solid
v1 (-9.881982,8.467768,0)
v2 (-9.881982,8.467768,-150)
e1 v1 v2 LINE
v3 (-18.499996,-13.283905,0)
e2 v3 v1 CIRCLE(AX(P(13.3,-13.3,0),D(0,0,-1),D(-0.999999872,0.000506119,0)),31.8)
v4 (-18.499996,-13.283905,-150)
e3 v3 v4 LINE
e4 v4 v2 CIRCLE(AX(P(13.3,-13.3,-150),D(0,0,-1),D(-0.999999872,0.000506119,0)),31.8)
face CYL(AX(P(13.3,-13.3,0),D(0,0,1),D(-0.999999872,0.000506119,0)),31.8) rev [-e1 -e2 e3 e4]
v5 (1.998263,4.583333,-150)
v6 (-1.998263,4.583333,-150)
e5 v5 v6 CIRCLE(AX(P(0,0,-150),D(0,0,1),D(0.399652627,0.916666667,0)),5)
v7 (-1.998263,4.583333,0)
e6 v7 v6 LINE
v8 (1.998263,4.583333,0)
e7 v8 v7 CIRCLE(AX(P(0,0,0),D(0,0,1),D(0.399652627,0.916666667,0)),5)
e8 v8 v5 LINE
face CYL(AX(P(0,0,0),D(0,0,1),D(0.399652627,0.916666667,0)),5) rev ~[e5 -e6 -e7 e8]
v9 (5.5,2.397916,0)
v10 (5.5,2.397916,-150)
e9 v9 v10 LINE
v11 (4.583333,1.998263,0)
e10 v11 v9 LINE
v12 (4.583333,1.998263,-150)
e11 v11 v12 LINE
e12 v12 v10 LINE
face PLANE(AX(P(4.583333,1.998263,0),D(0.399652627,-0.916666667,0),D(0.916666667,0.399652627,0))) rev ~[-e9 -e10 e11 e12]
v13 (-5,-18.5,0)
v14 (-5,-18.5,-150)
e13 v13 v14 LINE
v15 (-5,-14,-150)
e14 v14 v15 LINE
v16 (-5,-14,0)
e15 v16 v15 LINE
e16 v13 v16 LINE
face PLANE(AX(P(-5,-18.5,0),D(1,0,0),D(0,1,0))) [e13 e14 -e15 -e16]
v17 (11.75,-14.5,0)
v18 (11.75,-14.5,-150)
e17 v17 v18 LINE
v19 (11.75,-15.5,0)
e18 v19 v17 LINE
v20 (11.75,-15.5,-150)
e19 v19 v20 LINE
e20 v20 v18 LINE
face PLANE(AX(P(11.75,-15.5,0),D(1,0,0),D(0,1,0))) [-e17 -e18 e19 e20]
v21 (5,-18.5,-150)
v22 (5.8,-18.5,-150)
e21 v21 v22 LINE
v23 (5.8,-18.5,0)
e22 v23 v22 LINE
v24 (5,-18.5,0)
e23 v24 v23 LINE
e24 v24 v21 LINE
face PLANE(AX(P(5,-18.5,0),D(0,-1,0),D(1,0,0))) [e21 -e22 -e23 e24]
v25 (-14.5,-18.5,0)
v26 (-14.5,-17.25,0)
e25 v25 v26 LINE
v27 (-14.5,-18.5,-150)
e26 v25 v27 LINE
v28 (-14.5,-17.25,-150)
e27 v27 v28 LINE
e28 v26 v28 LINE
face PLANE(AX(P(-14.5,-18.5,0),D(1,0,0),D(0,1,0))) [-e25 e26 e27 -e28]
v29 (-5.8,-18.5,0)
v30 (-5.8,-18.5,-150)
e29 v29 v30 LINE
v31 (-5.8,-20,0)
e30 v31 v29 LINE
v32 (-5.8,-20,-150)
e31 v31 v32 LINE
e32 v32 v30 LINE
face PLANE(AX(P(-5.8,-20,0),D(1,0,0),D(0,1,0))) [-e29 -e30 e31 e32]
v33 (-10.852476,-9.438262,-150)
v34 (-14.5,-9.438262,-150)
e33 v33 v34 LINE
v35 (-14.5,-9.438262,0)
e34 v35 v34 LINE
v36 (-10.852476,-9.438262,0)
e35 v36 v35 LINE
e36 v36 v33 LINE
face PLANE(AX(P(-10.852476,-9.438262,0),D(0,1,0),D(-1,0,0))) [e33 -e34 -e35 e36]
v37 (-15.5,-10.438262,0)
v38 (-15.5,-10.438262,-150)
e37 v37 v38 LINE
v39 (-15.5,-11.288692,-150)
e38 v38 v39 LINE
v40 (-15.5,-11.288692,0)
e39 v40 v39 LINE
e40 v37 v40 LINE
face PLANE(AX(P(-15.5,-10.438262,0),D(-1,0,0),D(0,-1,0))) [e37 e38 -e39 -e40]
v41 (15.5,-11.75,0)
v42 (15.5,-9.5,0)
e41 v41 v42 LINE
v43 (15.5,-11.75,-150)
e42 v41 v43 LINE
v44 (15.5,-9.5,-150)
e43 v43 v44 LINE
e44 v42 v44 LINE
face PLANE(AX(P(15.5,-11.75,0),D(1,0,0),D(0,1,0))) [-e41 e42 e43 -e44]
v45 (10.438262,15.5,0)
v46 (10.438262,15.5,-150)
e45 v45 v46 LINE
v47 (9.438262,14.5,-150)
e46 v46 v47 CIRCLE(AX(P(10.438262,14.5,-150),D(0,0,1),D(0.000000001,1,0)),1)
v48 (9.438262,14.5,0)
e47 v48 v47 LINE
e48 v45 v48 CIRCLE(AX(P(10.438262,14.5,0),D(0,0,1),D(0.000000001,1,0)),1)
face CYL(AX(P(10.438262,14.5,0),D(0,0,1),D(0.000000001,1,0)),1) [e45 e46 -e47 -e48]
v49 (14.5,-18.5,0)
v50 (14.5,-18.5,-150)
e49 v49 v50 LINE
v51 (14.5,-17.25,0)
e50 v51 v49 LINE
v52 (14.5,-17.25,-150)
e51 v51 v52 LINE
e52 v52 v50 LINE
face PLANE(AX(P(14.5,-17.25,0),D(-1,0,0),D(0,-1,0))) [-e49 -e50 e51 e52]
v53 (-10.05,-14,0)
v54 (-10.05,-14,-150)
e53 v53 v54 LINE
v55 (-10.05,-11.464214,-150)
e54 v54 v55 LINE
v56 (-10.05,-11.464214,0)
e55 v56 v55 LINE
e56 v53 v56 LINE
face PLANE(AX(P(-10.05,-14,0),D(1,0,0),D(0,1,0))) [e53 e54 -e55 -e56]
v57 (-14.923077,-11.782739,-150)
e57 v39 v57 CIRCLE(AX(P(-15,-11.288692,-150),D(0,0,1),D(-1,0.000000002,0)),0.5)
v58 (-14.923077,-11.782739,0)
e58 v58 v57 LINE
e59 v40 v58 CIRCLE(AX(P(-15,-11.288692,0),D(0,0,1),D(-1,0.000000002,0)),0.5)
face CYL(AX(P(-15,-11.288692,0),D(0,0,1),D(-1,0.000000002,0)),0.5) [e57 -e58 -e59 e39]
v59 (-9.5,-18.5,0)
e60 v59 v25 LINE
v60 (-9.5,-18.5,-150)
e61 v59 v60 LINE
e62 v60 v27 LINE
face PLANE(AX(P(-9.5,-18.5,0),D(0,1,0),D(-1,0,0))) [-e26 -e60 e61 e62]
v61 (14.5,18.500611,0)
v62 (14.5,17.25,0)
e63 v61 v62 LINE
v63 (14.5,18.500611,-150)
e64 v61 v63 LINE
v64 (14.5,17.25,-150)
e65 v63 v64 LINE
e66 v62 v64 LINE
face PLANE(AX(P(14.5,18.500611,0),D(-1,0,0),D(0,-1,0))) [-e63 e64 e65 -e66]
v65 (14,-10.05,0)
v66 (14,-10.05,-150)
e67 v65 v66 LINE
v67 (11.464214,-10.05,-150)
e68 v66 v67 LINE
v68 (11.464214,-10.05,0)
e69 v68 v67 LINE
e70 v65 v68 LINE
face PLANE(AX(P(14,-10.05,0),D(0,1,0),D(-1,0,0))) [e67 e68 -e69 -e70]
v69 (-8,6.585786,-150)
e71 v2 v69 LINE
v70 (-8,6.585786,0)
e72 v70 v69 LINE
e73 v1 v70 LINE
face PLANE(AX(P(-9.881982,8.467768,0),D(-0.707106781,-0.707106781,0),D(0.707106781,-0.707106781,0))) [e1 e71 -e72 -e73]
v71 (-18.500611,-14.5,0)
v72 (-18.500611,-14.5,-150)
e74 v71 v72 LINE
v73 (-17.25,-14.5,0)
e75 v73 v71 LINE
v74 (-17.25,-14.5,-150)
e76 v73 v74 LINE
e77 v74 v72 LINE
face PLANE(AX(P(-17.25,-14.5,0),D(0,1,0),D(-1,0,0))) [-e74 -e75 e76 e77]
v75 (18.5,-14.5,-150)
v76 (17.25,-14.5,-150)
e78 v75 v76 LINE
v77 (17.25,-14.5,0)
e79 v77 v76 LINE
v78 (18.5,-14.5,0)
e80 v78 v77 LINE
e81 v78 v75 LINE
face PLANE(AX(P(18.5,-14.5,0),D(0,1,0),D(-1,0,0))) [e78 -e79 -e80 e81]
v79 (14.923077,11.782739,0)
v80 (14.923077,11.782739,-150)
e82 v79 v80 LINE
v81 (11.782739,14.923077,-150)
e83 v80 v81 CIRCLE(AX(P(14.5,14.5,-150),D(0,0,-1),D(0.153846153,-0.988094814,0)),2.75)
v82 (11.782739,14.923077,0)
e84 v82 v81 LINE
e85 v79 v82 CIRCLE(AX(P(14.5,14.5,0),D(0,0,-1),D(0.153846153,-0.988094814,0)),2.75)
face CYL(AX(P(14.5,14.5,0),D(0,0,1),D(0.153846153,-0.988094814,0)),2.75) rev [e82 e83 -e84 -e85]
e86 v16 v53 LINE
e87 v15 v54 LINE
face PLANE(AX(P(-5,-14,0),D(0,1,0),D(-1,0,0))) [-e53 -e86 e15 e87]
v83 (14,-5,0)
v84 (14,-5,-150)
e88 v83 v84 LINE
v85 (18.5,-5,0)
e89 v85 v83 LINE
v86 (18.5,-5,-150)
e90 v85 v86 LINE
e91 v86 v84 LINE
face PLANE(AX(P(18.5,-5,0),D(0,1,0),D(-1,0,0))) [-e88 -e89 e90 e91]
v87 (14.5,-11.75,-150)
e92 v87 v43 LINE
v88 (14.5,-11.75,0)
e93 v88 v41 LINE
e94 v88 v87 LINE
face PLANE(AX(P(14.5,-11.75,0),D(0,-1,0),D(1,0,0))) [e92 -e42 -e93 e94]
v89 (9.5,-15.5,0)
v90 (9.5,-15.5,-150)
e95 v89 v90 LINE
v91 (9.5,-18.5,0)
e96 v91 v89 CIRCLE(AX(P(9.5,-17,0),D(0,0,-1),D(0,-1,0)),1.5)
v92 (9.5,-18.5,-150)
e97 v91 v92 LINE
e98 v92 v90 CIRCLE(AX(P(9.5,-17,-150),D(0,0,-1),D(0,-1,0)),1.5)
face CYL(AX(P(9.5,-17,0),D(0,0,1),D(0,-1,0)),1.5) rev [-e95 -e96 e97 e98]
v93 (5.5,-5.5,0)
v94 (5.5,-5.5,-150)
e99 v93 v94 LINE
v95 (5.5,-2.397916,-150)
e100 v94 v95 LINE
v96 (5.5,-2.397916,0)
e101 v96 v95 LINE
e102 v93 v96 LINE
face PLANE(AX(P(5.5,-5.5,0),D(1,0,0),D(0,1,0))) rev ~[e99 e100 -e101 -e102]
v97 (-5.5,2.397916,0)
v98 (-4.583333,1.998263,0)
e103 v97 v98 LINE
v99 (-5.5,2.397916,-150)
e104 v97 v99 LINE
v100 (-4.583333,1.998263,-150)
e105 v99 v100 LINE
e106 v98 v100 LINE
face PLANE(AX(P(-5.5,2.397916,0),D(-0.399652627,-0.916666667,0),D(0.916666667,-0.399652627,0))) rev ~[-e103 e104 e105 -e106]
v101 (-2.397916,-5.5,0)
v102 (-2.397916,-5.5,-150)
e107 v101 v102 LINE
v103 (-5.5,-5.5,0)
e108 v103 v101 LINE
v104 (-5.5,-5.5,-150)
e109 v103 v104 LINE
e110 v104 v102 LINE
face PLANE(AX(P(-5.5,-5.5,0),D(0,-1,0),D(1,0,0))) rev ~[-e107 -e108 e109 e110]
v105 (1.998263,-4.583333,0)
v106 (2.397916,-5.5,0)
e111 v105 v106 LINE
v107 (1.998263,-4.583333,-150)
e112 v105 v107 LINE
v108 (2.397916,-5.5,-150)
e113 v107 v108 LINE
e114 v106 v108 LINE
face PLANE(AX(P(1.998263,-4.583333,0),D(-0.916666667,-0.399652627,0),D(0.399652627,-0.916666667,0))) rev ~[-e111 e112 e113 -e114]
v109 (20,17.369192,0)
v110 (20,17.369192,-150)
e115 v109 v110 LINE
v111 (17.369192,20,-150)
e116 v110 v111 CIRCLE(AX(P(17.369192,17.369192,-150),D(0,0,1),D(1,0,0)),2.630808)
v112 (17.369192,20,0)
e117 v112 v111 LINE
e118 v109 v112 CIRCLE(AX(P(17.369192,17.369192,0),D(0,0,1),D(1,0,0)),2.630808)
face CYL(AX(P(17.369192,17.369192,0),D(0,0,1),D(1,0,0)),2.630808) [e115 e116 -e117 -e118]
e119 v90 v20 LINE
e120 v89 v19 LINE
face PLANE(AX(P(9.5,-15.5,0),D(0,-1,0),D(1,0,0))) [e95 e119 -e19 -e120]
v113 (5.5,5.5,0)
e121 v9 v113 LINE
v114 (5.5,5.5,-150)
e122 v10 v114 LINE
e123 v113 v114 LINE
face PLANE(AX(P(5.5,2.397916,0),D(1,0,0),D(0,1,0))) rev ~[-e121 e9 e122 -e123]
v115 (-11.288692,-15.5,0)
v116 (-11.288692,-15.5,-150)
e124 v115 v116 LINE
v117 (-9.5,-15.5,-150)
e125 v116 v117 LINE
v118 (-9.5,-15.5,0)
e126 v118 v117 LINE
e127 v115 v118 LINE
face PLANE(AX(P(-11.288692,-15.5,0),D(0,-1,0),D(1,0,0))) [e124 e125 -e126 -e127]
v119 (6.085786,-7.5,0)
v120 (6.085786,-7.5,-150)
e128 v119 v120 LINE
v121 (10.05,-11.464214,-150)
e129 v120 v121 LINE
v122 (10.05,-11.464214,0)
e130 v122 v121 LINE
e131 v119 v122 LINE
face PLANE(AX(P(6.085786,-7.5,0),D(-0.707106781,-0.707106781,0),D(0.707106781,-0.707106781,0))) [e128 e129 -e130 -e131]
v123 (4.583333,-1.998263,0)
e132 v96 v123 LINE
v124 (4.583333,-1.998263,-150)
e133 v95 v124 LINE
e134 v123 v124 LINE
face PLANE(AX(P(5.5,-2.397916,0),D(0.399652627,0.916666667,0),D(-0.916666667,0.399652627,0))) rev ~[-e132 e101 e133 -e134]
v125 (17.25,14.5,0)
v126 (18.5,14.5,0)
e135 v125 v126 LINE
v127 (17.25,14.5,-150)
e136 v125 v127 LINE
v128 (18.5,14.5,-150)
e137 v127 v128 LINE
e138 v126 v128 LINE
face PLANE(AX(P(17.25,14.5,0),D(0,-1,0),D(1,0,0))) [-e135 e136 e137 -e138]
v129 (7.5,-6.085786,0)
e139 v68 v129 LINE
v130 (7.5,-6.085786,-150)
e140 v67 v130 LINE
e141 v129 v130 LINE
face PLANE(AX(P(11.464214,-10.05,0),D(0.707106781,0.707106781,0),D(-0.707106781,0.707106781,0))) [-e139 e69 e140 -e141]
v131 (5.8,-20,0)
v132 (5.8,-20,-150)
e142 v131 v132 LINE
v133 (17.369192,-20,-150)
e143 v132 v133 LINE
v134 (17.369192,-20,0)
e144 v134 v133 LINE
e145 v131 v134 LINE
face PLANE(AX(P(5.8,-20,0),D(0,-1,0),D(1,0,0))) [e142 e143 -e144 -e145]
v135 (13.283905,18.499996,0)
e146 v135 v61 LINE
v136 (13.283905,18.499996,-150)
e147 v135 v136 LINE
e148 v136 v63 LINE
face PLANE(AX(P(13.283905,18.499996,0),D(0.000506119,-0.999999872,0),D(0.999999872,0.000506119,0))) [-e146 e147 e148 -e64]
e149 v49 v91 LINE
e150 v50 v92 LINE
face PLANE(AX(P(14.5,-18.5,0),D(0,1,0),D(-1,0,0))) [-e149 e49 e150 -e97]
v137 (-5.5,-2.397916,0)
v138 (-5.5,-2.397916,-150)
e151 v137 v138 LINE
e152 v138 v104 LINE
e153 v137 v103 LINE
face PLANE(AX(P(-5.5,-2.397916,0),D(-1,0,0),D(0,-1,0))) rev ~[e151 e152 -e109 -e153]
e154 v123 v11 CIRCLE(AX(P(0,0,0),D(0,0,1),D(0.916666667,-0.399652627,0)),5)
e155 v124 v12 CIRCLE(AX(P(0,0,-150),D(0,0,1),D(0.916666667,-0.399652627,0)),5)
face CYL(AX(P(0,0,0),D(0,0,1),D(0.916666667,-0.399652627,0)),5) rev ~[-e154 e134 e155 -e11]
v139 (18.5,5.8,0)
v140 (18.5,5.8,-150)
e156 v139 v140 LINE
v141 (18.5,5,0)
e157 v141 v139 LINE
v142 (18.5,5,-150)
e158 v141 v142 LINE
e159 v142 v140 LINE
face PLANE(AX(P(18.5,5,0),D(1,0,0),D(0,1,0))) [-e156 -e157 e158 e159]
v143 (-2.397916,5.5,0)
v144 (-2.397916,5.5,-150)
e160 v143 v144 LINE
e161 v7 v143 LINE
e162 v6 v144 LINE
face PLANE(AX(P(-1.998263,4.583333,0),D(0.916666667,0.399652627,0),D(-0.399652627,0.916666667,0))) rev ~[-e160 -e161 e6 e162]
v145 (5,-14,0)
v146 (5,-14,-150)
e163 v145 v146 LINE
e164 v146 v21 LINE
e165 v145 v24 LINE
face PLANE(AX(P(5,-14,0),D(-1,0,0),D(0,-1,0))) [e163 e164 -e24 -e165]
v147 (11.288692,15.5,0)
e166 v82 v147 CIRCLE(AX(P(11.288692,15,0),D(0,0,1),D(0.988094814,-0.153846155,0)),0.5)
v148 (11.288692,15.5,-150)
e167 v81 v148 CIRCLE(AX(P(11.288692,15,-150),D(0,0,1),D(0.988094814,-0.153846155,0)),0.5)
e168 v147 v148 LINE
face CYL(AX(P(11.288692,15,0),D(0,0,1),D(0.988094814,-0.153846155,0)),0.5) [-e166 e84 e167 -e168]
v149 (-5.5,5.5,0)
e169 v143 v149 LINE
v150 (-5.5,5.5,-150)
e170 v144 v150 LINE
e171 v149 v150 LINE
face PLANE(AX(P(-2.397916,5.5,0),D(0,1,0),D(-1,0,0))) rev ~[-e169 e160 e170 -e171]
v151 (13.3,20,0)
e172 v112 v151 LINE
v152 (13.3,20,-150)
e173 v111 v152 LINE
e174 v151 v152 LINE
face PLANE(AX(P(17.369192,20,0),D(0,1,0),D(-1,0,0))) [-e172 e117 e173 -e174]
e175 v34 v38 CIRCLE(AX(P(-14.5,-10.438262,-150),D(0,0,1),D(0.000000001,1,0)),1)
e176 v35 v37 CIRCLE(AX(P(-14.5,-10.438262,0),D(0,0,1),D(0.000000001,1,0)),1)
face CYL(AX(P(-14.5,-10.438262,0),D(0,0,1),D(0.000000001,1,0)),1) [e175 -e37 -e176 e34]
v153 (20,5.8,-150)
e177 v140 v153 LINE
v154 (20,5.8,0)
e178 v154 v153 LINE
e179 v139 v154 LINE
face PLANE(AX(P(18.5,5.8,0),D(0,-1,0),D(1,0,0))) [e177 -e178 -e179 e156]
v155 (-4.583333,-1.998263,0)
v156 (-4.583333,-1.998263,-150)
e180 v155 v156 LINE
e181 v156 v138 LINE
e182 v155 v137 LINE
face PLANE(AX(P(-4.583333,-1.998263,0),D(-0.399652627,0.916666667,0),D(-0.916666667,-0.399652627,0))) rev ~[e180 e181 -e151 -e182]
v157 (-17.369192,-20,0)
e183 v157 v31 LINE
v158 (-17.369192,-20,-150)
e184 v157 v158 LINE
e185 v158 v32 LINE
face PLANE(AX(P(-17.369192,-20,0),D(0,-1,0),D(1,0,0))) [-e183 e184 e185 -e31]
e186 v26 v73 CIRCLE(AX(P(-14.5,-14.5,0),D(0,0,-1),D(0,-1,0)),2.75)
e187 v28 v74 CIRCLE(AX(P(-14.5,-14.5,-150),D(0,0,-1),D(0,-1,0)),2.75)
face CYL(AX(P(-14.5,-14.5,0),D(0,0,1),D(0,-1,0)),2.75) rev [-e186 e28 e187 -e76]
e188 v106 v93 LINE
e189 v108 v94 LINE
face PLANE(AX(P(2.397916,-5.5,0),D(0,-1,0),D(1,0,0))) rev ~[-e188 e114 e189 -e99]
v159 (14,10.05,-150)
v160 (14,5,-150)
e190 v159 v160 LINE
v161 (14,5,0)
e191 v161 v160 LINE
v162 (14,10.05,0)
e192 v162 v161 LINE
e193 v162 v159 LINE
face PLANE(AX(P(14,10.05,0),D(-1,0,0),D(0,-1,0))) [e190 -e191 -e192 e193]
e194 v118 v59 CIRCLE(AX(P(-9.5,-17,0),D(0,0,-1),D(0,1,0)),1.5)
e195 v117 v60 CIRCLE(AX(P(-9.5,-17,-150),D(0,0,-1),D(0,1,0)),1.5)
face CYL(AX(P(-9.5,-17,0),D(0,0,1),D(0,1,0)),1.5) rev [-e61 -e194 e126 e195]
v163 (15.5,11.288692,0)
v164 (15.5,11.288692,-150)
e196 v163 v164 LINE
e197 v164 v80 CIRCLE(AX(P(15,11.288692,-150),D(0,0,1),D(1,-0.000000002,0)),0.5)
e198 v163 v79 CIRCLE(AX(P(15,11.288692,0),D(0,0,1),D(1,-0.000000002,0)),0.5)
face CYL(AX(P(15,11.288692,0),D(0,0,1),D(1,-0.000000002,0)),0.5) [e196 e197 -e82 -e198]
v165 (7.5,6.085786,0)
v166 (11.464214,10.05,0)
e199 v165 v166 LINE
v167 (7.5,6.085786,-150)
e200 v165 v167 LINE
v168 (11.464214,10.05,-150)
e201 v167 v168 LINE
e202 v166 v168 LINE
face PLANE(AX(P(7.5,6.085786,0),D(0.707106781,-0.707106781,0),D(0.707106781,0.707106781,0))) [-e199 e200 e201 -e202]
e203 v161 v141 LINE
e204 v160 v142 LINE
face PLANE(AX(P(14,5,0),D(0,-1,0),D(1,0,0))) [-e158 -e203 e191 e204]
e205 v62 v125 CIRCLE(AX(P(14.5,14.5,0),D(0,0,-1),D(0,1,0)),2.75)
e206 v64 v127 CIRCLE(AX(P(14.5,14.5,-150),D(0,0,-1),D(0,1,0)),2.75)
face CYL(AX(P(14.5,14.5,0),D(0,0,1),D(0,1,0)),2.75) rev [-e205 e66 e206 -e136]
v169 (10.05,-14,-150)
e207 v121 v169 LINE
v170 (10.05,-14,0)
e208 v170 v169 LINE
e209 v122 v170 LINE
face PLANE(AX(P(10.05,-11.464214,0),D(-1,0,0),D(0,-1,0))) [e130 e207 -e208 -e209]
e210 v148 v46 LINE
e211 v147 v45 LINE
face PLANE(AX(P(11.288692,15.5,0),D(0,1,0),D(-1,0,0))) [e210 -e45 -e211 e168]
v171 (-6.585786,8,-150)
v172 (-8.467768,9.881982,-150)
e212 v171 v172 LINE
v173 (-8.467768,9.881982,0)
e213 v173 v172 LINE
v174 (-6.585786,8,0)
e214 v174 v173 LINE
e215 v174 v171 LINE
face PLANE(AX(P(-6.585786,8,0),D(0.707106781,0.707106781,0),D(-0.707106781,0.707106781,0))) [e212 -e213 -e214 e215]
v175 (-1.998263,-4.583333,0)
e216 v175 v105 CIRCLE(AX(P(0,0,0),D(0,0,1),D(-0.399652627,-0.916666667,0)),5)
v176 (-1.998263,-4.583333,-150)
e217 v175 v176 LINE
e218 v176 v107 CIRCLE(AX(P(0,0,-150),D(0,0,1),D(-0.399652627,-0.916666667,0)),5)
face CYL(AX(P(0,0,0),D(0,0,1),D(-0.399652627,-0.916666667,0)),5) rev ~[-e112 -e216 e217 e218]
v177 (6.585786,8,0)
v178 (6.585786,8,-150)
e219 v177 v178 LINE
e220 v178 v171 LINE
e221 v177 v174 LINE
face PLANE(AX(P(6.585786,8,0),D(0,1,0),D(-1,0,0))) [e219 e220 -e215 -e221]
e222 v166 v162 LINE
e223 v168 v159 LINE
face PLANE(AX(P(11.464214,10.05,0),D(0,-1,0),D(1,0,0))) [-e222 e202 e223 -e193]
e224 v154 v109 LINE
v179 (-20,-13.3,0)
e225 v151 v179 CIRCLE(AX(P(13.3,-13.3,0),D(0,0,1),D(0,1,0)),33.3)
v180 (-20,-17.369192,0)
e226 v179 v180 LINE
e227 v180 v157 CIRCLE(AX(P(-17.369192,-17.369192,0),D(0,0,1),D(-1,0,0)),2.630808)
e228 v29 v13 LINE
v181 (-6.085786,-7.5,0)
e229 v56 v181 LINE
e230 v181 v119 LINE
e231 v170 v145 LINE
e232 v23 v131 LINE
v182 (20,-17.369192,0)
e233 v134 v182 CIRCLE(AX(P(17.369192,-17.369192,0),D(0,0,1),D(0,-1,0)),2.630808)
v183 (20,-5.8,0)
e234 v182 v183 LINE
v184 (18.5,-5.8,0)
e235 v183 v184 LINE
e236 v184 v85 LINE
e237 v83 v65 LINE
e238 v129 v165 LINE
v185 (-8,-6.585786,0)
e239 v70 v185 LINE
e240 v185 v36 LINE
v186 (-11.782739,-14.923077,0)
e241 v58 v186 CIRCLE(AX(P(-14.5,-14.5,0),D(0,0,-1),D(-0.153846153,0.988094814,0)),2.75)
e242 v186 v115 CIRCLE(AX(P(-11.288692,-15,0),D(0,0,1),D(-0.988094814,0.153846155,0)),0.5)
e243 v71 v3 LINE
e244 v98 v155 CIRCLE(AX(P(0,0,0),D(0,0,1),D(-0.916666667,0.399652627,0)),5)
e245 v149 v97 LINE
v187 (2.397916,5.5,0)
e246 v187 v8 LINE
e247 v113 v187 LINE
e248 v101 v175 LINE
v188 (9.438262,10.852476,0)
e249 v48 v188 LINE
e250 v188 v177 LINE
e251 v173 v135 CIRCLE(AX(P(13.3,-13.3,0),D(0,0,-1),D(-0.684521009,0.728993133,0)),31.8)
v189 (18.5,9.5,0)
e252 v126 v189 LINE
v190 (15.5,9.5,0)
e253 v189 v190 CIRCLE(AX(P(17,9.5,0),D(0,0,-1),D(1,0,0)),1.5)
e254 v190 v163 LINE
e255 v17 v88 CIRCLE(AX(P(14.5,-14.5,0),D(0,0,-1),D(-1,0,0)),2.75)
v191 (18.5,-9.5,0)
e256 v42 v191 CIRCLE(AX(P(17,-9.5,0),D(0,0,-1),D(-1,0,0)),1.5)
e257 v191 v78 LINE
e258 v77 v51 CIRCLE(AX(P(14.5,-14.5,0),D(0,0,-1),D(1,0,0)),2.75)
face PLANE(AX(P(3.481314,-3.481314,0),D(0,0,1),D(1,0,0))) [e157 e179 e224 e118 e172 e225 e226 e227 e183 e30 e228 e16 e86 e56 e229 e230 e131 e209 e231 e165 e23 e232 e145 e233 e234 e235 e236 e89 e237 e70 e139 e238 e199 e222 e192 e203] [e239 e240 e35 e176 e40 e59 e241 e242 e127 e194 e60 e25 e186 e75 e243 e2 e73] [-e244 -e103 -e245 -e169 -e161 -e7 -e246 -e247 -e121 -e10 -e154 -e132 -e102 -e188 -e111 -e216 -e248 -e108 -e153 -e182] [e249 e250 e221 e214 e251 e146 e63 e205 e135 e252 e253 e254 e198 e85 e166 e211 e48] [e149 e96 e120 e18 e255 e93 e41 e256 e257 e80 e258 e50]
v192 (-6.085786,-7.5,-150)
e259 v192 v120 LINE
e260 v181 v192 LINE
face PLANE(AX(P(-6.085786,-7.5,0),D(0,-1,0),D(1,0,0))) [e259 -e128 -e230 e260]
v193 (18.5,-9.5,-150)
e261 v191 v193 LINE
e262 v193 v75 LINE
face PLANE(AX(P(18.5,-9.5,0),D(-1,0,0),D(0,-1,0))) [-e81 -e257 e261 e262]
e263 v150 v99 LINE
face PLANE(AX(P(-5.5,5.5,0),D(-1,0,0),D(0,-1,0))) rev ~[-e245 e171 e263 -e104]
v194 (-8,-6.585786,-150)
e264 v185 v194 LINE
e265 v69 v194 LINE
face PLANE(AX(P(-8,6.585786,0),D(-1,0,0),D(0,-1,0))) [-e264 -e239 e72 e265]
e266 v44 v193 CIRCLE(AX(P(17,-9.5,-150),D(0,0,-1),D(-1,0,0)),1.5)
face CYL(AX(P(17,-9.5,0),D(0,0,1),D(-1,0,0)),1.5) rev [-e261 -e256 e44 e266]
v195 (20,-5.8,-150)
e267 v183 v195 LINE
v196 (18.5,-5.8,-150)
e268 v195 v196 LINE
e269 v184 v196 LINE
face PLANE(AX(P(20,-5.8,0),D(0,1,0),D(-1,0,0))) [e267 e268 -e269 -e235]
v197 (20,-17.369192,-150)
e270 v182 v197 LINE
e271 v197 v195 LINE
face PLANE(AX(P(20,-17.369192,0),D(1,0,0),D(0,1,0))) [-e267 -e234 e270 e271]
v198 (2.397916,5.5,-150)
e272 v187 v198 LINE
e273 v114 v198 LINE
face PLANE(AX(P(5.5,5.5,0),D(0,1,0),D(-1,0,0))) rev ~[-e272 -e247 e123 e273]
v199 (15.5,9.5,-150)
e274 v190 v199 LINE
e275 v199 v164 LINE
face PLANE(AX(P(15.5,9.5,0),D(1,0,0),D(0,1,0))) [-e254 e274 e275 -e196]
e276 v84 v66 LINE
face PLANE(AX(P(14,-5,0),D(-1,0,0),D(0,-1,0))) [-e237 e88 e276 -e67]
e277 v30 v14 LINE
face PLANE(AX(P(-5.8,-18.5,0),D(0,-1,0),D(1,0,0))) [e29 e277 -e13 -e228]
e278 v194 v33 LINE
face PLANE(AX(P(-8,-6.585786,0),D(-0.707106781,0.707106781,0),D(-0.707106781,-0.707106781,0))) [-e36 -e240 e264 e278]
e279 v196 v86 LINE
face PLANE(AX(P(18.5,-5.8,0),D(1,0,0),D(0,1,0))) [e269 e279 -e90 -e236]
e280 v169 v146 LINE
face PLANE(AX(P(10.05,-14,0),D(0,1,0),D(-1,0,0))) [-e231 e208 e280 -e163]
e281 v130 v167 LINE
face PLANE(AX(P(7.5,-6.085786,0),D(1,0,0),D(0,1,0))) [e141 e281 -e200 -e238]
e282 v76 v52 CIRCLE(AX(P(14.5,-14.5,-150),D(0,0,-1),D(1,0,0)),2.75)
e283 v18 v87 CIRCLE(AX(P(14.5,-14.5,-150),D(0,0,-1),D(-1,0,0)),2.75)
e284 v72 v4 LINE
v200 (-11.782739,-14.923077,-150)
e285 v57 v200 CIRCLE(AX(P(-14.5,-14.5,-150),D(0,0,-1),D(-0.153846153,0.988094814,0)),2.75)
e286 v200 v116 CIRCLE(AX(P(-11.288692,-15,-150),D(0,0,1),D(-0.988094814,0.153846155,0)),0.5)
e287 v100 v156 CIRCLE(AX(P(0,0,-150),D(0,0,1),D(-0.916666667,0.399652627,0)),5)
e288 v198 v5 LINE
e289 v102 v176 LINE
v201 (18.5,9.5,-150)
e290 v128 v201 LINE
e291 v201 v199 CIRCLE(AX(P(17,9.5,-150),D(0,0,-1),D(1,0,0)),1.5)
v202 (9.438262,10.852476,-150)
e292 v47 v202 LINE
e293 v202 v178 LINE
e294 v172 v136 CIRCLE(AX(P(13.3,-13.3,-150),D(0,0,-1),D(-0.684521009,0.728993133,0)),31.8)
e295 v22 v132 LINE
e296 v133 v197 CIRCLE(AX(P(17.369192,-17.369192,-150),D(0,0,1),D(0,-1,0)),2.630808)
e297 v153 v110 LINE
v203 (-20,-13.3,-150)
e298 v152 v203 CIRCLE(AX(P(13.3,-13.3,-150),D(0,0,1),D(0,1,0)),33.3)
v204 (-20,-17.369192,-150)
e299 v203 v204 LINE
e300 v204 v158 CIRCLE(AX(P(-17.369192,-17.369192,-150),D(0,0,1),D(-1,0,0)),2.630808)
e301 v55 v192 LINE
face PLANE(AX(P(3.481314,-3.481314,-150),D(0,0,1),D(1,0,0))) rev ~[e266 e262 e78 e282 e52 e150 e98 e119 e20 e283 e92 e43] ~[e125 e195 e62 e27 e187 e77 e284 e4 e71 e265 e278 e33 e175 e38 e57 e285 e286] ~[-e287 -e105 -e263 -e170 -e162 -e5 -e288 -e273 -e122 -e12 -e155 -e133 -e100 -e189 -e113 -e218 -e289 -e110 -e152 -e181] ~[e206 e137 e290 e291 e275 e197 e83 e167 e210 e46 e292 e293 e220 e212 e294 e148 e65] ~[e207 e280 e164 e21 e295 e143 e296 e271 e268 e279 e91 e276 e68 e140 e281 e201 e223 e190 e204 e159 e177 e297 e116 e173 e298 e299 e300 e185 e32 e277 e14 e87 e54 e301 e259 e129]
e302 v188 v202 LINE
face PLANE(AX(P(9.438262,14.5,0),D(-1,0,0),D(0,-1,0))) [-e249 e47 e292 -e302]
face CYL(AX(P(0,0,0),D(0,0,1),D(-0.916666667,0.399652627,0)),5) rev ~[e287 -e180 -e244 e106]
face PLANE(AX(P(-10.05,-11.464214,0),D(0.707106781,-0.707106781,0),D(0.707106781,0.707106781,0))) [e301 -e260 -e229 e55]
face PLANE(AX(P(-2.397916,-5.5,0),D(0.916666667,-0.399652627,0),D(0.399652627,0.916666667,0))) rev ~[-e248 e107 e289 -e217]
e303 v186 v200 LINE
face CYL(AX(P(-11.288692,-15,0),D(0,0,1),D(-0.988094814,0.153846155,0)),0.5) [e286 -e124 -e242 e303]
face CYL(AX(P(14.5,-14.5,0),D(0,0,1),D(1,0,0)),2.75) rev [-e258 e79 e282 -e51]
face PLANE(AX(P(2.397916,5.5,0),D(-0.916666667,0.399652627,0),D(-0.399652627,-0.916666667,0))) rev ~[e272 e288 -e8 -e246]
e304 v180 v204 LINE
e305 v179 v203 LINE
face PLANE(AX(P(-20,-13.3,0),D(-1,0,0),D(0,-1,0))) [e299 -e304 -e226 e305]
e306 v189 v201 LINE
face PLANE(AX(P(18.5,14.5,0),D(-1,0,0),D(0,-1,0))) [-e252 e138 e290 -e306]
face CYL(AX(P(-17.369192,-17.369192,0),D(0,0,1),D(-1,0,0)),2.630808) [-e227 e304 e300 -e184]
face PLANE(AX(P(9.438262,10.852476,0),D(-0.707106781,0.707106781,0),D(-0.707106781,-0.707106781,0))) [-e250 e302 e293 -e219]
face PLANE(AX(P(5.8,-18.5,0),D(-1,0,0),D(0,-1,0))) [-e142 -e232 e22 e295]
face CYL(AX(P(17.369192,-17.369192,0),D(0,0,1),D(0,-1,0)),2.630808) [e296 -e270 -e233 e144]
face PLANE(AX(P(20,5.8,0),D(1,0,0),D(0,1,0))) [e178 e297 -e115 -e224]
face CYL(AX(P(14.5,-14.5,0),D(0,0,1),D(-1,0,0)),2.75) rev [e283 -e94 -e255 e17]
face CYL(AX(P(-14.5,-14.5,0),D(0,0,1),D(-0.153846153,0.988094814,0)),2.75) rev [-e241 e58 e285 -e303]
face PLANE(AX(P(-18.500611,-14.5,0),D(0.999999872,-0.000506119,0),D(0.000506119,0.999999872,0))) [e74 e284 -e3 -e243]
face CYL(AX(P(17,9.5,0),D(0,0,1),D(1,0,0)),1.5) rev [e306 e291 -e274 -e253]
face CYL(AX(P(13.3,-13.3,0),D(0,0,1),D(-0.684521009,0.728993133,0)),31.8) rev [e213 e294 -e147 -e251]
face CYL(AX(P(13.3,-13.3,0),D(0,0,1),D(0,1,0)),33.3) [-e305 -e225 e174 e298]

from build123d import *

# Parameters (mm, degrees)
EXTRUDE1_DEPTH = 150


with BuildPart() as part:
    # Sketch2 → Extrude1 (new body)
    with BuildSketch(Plane.XY):
        with BuildLine():
            Line((18.5, -5.8), (18.5, -5))
            Line((18.5, -5), (14, -5))
            Line((14, -5), (14, -10.05))
            Line((14, -10.05), (11.464213562, -10.05))
            Line((11.464213562, -10.05), (7.5, -6.085786438))
            Line((7.5, -6.085786438), (7.5, 6.085786438))
            Line((7.5, 6.085786438), (11.464213562, 10.05))
            Line((11.464213562, 10.05), (14, 10.05))
            Line((14, 10.05), (14, 5))
            Line((14, 5), (18.5, 5))
            Line((18.5, 5), (18.5, 5.8))
            Line((18.5, 5.8), (20, 5.8))
            Line((20, 5.8), (20, 17.369192104))
            ThreePointArc((20, 17.369192104), (19.229454207, 19.229454207), (17.369192104, 20))
            Line((17.369192104, 20), (13.3, 20))
            ThreePointArc((13.3, 20), (-10.246655814, 10.246655814), (-20, -13.3))
            Line((-20, -13.3), (-20, -17.369192104))
            ThreePointArc((-20, -17.369192104), (-19.229454207, -19.229454207), (-17.369192104, -20))
            Line((-17.369192104, -20), (-5.8, -20))
            Line((-5.8, -20), (-5.8, -18.5))
            Line((-5.8, -18.5), (-5, -18.5))
            Line((-5, -18.5), (-5, -14))
            Line((-5, -14), (-10.05, -14))
            Line((-10.05, -14), (-10.05, -11.464213562))
            Line((-10.05, -11.464213562), (-6.085786438, -7.5))
            Line((-6.085786438, -7.5), (6.085786438, -7.5))
            Line((6.085786438, -7.5), (10.05, -11.464213562))
            Line((10.05, -11.464213562), (10.05, -14))
            Line((10.05, -14), (5, -14))
            Line((5, -14), (5, -18.5))
            Line((5, -18.5), (5.8, -18.5))
            Line((5.8, -18.5), (5.8, -20))
            Line((5.8, -20), (17.369192104, -20))
            ThreePointArc((17.369192104, -20), (19.229454207, -19.229454207), (20, -17.369192104))
            Line((20, -17.369192104), (20, -5.8))
            Line((20, -5.8), (18.5, -5.8))
        make_face()
        with BuildLine():
            Line((2.397915762, 5.5), (1.998263135, 4.583333333))
            ThreePointArc((1.998263135, 4.583333333), (0, 5), (-1.998263135, 4.583333333))
            Line((-1.998263135, 4.583333333), (-2.397915762, 5.5))
            Line((-2.397915762, 5.5), (-5.5, 5.5))
            Line((-5.5, 5.5), (-5.5, 2.397915762))
            Line((-5.5, 2.397915762), (-4.583333333, 1.998263135))
            ThreePointArc((-4.583333333, 1.998263135), (-5, 0), (-4.583333333, -1.998263135))
            Line((-4.583333333, -1.998263135), (-5.5, -2.397915762))
            Line((-5.5, -2.397915762), (-5.5, -5.5))
            Line((-5.5, -5.5), (-2.397915762, -5.5))
            Line((-2.397915762, -5.5), (-1.998263135, -4.583333333))
            ThreePointArc((-1.998263135, -4.583333333), (0, -5), (1.998263135, -4.583333333))
            Line((1.998263135, -4.583333333), (2.397915762, -5.5))
            Line((2.397915762, -5.5), (5.5, -5.5))
            Line((5.5, -5.5), (5.5, -2.397915762))
            Line((5.5, -2.397915762), (4.583333333, -1.998263135))
            ThreePointArc((4.583333333, -1.998263135), (5, 0), (4.583333333, 1.998263135))
            Line((4.583333333, 1.998263135), (5.5, 2.397915762))
            Line((5.5, 2.397915762), (5.5, 5.5))
            Line((5.5, 5.5), (2.397915762, 5.5))
        make_face(mode=Mode.SUBTRACT)
        with BuildLine():
            Line((9.438262309, 10.852475871), (6.585786438, 8))
            Line((6.585786438, 8), (-6.585786438, 8))
            Line((-6.585786438, 8), (-8.467768079, 9.881981642))
            ThreePointArc((-8.467768079, 9.881981642), (1.586686602, 16.264138568), (13.28390541, 18.499995927))
            Line((13.28390541, 18.499995927), (14.5, 18.500611416))
            Line((14.5, 18.500611416), (14.5, 17.25))
            ThreePointArc((14.5, 17.25), (16.444543648, 16.444543648), (17.25, 14.5))
            Line((17.25, 14.5), (18.5, 14.5))
            Line((18.5, 14.5), (18.5, 9.5))
            ThreePointArc((18.5, 9.5), (17, 8), (15.5, 9.5))
            Line((15.5, 9.5), (15.5, 11.288691855))
            ThreePointArc((15.5, 11.288691855), (15.325221818, 11.668469118), (14.923076923, 11.782739262))
            ThreePointArc((14.923076923, 11.782739262), (12.555456352, 12.555456352), (11.782739262, 14.923076923))
            ThreePointArc((11.782739262, 14.923076923), (11.668469118, 15.325221818), (11.288691855, 15.5))
            Line((11.288691855, 15.5), (10.438262309, 15.5))
            ThreePointArc((10.438262309, 15.5), (9.731155527, 15.207106781), (9.438262309, 14.5))
            Line((9.438262309, 14.5), (9.438262309, 10.852475871))
        make_face(mode=Mode.SUBTRACT)
        with BuildLine():
            Line((11.75, -15.5), (11.75, -14.5))
            ThreePointArc((11.75, -14.5), (12.555456352, -12.555456352), (14.5, -11.75))
            Line((14.5, -11.75), (15.5, -11.75))
            Line((15.5, -11.75), (15.5, -9.5))
            ThreePointArc((15.5, -9.5), (17, -8), (18.5, -9.5))
            Line((18.5, -9.5), (18.5, -14.5))
            Line((18.5, -14.5), (17.25, -14.5))
            ThreePointArc((17.25, -14.5), (16.444543648, -16.444543648), (14.5, -17.25))
            Line((14.5, -17.25), (14.5, -18.5))
            Line((14.5, -18.5), (9.5, -18.5))
            ThreePointArc((9.5, -18.5), (8, -17), (9.5, -15.5))
            Line((9.5, -15.5), (11.75, -15.5))
        make_face(mode=Mode.SUBTRACT)
        with BuildLine():
            Line((-18.500611416, -14.5), (-18.499995927, -13.28390541))
            ThreePointArc((-18.499995927, -13.28390541), (-16.264138568, -1.586686602), (-9.881981642, 8.467768079))
            Line((-9.881981642, 8.467768079), (-8, 6.585786438))
            Line((-8, 6.585786438), (-8, -6.585786438))
            Line((-8, -6.585786438), (-10.852475871, -9.438262309))
            Line((-10.852475871, -9.438262309), (-14.5, -9.438262309))
            ThreePointArc((-14.5, -9.438262309), (-15.207106781, -9.731155527), (-15.5, -10.438262309))
            Line((-15.5, -10.438262309), (-15.5, -11.288691855))
            ThreePointArc((-15.5, -11.288691855), (-15.325221818, -11.668469118), (-14.923076923, -11.782739262))
            ThreePointArc((-14.923076923, -11.782739262), (-12.555456352, -12.555456352), (-11.782739262, -14.923076923))
            ThreePointArc((-11.782739262, -14.923076923), (-11.668469118, -15.325221818), (-11.288691855, -15.5))
            Line((-11.288691855, -15.5), (-9.5, -15.5))
            ThreePointArc((-9.5, -15.5), (-8, -17), (-9.5, -18.5))
            Line((-9.5, -18.5), (-14.5, -18.5))
            Line((-14.5, -18.5), (-14.5, -17.25))
            ThreePointArc((-14.5, -17.25), (-16.444543648, -16.444543648), (-17.25, -14.5))
            Line((-17.25, -14.5), (-18.500611416, -14.5))
        make_face(mode=Mode.SUBTRACT)
    extrude(amount=-EXTRUDE1_DEPTH)


solid = part.part
